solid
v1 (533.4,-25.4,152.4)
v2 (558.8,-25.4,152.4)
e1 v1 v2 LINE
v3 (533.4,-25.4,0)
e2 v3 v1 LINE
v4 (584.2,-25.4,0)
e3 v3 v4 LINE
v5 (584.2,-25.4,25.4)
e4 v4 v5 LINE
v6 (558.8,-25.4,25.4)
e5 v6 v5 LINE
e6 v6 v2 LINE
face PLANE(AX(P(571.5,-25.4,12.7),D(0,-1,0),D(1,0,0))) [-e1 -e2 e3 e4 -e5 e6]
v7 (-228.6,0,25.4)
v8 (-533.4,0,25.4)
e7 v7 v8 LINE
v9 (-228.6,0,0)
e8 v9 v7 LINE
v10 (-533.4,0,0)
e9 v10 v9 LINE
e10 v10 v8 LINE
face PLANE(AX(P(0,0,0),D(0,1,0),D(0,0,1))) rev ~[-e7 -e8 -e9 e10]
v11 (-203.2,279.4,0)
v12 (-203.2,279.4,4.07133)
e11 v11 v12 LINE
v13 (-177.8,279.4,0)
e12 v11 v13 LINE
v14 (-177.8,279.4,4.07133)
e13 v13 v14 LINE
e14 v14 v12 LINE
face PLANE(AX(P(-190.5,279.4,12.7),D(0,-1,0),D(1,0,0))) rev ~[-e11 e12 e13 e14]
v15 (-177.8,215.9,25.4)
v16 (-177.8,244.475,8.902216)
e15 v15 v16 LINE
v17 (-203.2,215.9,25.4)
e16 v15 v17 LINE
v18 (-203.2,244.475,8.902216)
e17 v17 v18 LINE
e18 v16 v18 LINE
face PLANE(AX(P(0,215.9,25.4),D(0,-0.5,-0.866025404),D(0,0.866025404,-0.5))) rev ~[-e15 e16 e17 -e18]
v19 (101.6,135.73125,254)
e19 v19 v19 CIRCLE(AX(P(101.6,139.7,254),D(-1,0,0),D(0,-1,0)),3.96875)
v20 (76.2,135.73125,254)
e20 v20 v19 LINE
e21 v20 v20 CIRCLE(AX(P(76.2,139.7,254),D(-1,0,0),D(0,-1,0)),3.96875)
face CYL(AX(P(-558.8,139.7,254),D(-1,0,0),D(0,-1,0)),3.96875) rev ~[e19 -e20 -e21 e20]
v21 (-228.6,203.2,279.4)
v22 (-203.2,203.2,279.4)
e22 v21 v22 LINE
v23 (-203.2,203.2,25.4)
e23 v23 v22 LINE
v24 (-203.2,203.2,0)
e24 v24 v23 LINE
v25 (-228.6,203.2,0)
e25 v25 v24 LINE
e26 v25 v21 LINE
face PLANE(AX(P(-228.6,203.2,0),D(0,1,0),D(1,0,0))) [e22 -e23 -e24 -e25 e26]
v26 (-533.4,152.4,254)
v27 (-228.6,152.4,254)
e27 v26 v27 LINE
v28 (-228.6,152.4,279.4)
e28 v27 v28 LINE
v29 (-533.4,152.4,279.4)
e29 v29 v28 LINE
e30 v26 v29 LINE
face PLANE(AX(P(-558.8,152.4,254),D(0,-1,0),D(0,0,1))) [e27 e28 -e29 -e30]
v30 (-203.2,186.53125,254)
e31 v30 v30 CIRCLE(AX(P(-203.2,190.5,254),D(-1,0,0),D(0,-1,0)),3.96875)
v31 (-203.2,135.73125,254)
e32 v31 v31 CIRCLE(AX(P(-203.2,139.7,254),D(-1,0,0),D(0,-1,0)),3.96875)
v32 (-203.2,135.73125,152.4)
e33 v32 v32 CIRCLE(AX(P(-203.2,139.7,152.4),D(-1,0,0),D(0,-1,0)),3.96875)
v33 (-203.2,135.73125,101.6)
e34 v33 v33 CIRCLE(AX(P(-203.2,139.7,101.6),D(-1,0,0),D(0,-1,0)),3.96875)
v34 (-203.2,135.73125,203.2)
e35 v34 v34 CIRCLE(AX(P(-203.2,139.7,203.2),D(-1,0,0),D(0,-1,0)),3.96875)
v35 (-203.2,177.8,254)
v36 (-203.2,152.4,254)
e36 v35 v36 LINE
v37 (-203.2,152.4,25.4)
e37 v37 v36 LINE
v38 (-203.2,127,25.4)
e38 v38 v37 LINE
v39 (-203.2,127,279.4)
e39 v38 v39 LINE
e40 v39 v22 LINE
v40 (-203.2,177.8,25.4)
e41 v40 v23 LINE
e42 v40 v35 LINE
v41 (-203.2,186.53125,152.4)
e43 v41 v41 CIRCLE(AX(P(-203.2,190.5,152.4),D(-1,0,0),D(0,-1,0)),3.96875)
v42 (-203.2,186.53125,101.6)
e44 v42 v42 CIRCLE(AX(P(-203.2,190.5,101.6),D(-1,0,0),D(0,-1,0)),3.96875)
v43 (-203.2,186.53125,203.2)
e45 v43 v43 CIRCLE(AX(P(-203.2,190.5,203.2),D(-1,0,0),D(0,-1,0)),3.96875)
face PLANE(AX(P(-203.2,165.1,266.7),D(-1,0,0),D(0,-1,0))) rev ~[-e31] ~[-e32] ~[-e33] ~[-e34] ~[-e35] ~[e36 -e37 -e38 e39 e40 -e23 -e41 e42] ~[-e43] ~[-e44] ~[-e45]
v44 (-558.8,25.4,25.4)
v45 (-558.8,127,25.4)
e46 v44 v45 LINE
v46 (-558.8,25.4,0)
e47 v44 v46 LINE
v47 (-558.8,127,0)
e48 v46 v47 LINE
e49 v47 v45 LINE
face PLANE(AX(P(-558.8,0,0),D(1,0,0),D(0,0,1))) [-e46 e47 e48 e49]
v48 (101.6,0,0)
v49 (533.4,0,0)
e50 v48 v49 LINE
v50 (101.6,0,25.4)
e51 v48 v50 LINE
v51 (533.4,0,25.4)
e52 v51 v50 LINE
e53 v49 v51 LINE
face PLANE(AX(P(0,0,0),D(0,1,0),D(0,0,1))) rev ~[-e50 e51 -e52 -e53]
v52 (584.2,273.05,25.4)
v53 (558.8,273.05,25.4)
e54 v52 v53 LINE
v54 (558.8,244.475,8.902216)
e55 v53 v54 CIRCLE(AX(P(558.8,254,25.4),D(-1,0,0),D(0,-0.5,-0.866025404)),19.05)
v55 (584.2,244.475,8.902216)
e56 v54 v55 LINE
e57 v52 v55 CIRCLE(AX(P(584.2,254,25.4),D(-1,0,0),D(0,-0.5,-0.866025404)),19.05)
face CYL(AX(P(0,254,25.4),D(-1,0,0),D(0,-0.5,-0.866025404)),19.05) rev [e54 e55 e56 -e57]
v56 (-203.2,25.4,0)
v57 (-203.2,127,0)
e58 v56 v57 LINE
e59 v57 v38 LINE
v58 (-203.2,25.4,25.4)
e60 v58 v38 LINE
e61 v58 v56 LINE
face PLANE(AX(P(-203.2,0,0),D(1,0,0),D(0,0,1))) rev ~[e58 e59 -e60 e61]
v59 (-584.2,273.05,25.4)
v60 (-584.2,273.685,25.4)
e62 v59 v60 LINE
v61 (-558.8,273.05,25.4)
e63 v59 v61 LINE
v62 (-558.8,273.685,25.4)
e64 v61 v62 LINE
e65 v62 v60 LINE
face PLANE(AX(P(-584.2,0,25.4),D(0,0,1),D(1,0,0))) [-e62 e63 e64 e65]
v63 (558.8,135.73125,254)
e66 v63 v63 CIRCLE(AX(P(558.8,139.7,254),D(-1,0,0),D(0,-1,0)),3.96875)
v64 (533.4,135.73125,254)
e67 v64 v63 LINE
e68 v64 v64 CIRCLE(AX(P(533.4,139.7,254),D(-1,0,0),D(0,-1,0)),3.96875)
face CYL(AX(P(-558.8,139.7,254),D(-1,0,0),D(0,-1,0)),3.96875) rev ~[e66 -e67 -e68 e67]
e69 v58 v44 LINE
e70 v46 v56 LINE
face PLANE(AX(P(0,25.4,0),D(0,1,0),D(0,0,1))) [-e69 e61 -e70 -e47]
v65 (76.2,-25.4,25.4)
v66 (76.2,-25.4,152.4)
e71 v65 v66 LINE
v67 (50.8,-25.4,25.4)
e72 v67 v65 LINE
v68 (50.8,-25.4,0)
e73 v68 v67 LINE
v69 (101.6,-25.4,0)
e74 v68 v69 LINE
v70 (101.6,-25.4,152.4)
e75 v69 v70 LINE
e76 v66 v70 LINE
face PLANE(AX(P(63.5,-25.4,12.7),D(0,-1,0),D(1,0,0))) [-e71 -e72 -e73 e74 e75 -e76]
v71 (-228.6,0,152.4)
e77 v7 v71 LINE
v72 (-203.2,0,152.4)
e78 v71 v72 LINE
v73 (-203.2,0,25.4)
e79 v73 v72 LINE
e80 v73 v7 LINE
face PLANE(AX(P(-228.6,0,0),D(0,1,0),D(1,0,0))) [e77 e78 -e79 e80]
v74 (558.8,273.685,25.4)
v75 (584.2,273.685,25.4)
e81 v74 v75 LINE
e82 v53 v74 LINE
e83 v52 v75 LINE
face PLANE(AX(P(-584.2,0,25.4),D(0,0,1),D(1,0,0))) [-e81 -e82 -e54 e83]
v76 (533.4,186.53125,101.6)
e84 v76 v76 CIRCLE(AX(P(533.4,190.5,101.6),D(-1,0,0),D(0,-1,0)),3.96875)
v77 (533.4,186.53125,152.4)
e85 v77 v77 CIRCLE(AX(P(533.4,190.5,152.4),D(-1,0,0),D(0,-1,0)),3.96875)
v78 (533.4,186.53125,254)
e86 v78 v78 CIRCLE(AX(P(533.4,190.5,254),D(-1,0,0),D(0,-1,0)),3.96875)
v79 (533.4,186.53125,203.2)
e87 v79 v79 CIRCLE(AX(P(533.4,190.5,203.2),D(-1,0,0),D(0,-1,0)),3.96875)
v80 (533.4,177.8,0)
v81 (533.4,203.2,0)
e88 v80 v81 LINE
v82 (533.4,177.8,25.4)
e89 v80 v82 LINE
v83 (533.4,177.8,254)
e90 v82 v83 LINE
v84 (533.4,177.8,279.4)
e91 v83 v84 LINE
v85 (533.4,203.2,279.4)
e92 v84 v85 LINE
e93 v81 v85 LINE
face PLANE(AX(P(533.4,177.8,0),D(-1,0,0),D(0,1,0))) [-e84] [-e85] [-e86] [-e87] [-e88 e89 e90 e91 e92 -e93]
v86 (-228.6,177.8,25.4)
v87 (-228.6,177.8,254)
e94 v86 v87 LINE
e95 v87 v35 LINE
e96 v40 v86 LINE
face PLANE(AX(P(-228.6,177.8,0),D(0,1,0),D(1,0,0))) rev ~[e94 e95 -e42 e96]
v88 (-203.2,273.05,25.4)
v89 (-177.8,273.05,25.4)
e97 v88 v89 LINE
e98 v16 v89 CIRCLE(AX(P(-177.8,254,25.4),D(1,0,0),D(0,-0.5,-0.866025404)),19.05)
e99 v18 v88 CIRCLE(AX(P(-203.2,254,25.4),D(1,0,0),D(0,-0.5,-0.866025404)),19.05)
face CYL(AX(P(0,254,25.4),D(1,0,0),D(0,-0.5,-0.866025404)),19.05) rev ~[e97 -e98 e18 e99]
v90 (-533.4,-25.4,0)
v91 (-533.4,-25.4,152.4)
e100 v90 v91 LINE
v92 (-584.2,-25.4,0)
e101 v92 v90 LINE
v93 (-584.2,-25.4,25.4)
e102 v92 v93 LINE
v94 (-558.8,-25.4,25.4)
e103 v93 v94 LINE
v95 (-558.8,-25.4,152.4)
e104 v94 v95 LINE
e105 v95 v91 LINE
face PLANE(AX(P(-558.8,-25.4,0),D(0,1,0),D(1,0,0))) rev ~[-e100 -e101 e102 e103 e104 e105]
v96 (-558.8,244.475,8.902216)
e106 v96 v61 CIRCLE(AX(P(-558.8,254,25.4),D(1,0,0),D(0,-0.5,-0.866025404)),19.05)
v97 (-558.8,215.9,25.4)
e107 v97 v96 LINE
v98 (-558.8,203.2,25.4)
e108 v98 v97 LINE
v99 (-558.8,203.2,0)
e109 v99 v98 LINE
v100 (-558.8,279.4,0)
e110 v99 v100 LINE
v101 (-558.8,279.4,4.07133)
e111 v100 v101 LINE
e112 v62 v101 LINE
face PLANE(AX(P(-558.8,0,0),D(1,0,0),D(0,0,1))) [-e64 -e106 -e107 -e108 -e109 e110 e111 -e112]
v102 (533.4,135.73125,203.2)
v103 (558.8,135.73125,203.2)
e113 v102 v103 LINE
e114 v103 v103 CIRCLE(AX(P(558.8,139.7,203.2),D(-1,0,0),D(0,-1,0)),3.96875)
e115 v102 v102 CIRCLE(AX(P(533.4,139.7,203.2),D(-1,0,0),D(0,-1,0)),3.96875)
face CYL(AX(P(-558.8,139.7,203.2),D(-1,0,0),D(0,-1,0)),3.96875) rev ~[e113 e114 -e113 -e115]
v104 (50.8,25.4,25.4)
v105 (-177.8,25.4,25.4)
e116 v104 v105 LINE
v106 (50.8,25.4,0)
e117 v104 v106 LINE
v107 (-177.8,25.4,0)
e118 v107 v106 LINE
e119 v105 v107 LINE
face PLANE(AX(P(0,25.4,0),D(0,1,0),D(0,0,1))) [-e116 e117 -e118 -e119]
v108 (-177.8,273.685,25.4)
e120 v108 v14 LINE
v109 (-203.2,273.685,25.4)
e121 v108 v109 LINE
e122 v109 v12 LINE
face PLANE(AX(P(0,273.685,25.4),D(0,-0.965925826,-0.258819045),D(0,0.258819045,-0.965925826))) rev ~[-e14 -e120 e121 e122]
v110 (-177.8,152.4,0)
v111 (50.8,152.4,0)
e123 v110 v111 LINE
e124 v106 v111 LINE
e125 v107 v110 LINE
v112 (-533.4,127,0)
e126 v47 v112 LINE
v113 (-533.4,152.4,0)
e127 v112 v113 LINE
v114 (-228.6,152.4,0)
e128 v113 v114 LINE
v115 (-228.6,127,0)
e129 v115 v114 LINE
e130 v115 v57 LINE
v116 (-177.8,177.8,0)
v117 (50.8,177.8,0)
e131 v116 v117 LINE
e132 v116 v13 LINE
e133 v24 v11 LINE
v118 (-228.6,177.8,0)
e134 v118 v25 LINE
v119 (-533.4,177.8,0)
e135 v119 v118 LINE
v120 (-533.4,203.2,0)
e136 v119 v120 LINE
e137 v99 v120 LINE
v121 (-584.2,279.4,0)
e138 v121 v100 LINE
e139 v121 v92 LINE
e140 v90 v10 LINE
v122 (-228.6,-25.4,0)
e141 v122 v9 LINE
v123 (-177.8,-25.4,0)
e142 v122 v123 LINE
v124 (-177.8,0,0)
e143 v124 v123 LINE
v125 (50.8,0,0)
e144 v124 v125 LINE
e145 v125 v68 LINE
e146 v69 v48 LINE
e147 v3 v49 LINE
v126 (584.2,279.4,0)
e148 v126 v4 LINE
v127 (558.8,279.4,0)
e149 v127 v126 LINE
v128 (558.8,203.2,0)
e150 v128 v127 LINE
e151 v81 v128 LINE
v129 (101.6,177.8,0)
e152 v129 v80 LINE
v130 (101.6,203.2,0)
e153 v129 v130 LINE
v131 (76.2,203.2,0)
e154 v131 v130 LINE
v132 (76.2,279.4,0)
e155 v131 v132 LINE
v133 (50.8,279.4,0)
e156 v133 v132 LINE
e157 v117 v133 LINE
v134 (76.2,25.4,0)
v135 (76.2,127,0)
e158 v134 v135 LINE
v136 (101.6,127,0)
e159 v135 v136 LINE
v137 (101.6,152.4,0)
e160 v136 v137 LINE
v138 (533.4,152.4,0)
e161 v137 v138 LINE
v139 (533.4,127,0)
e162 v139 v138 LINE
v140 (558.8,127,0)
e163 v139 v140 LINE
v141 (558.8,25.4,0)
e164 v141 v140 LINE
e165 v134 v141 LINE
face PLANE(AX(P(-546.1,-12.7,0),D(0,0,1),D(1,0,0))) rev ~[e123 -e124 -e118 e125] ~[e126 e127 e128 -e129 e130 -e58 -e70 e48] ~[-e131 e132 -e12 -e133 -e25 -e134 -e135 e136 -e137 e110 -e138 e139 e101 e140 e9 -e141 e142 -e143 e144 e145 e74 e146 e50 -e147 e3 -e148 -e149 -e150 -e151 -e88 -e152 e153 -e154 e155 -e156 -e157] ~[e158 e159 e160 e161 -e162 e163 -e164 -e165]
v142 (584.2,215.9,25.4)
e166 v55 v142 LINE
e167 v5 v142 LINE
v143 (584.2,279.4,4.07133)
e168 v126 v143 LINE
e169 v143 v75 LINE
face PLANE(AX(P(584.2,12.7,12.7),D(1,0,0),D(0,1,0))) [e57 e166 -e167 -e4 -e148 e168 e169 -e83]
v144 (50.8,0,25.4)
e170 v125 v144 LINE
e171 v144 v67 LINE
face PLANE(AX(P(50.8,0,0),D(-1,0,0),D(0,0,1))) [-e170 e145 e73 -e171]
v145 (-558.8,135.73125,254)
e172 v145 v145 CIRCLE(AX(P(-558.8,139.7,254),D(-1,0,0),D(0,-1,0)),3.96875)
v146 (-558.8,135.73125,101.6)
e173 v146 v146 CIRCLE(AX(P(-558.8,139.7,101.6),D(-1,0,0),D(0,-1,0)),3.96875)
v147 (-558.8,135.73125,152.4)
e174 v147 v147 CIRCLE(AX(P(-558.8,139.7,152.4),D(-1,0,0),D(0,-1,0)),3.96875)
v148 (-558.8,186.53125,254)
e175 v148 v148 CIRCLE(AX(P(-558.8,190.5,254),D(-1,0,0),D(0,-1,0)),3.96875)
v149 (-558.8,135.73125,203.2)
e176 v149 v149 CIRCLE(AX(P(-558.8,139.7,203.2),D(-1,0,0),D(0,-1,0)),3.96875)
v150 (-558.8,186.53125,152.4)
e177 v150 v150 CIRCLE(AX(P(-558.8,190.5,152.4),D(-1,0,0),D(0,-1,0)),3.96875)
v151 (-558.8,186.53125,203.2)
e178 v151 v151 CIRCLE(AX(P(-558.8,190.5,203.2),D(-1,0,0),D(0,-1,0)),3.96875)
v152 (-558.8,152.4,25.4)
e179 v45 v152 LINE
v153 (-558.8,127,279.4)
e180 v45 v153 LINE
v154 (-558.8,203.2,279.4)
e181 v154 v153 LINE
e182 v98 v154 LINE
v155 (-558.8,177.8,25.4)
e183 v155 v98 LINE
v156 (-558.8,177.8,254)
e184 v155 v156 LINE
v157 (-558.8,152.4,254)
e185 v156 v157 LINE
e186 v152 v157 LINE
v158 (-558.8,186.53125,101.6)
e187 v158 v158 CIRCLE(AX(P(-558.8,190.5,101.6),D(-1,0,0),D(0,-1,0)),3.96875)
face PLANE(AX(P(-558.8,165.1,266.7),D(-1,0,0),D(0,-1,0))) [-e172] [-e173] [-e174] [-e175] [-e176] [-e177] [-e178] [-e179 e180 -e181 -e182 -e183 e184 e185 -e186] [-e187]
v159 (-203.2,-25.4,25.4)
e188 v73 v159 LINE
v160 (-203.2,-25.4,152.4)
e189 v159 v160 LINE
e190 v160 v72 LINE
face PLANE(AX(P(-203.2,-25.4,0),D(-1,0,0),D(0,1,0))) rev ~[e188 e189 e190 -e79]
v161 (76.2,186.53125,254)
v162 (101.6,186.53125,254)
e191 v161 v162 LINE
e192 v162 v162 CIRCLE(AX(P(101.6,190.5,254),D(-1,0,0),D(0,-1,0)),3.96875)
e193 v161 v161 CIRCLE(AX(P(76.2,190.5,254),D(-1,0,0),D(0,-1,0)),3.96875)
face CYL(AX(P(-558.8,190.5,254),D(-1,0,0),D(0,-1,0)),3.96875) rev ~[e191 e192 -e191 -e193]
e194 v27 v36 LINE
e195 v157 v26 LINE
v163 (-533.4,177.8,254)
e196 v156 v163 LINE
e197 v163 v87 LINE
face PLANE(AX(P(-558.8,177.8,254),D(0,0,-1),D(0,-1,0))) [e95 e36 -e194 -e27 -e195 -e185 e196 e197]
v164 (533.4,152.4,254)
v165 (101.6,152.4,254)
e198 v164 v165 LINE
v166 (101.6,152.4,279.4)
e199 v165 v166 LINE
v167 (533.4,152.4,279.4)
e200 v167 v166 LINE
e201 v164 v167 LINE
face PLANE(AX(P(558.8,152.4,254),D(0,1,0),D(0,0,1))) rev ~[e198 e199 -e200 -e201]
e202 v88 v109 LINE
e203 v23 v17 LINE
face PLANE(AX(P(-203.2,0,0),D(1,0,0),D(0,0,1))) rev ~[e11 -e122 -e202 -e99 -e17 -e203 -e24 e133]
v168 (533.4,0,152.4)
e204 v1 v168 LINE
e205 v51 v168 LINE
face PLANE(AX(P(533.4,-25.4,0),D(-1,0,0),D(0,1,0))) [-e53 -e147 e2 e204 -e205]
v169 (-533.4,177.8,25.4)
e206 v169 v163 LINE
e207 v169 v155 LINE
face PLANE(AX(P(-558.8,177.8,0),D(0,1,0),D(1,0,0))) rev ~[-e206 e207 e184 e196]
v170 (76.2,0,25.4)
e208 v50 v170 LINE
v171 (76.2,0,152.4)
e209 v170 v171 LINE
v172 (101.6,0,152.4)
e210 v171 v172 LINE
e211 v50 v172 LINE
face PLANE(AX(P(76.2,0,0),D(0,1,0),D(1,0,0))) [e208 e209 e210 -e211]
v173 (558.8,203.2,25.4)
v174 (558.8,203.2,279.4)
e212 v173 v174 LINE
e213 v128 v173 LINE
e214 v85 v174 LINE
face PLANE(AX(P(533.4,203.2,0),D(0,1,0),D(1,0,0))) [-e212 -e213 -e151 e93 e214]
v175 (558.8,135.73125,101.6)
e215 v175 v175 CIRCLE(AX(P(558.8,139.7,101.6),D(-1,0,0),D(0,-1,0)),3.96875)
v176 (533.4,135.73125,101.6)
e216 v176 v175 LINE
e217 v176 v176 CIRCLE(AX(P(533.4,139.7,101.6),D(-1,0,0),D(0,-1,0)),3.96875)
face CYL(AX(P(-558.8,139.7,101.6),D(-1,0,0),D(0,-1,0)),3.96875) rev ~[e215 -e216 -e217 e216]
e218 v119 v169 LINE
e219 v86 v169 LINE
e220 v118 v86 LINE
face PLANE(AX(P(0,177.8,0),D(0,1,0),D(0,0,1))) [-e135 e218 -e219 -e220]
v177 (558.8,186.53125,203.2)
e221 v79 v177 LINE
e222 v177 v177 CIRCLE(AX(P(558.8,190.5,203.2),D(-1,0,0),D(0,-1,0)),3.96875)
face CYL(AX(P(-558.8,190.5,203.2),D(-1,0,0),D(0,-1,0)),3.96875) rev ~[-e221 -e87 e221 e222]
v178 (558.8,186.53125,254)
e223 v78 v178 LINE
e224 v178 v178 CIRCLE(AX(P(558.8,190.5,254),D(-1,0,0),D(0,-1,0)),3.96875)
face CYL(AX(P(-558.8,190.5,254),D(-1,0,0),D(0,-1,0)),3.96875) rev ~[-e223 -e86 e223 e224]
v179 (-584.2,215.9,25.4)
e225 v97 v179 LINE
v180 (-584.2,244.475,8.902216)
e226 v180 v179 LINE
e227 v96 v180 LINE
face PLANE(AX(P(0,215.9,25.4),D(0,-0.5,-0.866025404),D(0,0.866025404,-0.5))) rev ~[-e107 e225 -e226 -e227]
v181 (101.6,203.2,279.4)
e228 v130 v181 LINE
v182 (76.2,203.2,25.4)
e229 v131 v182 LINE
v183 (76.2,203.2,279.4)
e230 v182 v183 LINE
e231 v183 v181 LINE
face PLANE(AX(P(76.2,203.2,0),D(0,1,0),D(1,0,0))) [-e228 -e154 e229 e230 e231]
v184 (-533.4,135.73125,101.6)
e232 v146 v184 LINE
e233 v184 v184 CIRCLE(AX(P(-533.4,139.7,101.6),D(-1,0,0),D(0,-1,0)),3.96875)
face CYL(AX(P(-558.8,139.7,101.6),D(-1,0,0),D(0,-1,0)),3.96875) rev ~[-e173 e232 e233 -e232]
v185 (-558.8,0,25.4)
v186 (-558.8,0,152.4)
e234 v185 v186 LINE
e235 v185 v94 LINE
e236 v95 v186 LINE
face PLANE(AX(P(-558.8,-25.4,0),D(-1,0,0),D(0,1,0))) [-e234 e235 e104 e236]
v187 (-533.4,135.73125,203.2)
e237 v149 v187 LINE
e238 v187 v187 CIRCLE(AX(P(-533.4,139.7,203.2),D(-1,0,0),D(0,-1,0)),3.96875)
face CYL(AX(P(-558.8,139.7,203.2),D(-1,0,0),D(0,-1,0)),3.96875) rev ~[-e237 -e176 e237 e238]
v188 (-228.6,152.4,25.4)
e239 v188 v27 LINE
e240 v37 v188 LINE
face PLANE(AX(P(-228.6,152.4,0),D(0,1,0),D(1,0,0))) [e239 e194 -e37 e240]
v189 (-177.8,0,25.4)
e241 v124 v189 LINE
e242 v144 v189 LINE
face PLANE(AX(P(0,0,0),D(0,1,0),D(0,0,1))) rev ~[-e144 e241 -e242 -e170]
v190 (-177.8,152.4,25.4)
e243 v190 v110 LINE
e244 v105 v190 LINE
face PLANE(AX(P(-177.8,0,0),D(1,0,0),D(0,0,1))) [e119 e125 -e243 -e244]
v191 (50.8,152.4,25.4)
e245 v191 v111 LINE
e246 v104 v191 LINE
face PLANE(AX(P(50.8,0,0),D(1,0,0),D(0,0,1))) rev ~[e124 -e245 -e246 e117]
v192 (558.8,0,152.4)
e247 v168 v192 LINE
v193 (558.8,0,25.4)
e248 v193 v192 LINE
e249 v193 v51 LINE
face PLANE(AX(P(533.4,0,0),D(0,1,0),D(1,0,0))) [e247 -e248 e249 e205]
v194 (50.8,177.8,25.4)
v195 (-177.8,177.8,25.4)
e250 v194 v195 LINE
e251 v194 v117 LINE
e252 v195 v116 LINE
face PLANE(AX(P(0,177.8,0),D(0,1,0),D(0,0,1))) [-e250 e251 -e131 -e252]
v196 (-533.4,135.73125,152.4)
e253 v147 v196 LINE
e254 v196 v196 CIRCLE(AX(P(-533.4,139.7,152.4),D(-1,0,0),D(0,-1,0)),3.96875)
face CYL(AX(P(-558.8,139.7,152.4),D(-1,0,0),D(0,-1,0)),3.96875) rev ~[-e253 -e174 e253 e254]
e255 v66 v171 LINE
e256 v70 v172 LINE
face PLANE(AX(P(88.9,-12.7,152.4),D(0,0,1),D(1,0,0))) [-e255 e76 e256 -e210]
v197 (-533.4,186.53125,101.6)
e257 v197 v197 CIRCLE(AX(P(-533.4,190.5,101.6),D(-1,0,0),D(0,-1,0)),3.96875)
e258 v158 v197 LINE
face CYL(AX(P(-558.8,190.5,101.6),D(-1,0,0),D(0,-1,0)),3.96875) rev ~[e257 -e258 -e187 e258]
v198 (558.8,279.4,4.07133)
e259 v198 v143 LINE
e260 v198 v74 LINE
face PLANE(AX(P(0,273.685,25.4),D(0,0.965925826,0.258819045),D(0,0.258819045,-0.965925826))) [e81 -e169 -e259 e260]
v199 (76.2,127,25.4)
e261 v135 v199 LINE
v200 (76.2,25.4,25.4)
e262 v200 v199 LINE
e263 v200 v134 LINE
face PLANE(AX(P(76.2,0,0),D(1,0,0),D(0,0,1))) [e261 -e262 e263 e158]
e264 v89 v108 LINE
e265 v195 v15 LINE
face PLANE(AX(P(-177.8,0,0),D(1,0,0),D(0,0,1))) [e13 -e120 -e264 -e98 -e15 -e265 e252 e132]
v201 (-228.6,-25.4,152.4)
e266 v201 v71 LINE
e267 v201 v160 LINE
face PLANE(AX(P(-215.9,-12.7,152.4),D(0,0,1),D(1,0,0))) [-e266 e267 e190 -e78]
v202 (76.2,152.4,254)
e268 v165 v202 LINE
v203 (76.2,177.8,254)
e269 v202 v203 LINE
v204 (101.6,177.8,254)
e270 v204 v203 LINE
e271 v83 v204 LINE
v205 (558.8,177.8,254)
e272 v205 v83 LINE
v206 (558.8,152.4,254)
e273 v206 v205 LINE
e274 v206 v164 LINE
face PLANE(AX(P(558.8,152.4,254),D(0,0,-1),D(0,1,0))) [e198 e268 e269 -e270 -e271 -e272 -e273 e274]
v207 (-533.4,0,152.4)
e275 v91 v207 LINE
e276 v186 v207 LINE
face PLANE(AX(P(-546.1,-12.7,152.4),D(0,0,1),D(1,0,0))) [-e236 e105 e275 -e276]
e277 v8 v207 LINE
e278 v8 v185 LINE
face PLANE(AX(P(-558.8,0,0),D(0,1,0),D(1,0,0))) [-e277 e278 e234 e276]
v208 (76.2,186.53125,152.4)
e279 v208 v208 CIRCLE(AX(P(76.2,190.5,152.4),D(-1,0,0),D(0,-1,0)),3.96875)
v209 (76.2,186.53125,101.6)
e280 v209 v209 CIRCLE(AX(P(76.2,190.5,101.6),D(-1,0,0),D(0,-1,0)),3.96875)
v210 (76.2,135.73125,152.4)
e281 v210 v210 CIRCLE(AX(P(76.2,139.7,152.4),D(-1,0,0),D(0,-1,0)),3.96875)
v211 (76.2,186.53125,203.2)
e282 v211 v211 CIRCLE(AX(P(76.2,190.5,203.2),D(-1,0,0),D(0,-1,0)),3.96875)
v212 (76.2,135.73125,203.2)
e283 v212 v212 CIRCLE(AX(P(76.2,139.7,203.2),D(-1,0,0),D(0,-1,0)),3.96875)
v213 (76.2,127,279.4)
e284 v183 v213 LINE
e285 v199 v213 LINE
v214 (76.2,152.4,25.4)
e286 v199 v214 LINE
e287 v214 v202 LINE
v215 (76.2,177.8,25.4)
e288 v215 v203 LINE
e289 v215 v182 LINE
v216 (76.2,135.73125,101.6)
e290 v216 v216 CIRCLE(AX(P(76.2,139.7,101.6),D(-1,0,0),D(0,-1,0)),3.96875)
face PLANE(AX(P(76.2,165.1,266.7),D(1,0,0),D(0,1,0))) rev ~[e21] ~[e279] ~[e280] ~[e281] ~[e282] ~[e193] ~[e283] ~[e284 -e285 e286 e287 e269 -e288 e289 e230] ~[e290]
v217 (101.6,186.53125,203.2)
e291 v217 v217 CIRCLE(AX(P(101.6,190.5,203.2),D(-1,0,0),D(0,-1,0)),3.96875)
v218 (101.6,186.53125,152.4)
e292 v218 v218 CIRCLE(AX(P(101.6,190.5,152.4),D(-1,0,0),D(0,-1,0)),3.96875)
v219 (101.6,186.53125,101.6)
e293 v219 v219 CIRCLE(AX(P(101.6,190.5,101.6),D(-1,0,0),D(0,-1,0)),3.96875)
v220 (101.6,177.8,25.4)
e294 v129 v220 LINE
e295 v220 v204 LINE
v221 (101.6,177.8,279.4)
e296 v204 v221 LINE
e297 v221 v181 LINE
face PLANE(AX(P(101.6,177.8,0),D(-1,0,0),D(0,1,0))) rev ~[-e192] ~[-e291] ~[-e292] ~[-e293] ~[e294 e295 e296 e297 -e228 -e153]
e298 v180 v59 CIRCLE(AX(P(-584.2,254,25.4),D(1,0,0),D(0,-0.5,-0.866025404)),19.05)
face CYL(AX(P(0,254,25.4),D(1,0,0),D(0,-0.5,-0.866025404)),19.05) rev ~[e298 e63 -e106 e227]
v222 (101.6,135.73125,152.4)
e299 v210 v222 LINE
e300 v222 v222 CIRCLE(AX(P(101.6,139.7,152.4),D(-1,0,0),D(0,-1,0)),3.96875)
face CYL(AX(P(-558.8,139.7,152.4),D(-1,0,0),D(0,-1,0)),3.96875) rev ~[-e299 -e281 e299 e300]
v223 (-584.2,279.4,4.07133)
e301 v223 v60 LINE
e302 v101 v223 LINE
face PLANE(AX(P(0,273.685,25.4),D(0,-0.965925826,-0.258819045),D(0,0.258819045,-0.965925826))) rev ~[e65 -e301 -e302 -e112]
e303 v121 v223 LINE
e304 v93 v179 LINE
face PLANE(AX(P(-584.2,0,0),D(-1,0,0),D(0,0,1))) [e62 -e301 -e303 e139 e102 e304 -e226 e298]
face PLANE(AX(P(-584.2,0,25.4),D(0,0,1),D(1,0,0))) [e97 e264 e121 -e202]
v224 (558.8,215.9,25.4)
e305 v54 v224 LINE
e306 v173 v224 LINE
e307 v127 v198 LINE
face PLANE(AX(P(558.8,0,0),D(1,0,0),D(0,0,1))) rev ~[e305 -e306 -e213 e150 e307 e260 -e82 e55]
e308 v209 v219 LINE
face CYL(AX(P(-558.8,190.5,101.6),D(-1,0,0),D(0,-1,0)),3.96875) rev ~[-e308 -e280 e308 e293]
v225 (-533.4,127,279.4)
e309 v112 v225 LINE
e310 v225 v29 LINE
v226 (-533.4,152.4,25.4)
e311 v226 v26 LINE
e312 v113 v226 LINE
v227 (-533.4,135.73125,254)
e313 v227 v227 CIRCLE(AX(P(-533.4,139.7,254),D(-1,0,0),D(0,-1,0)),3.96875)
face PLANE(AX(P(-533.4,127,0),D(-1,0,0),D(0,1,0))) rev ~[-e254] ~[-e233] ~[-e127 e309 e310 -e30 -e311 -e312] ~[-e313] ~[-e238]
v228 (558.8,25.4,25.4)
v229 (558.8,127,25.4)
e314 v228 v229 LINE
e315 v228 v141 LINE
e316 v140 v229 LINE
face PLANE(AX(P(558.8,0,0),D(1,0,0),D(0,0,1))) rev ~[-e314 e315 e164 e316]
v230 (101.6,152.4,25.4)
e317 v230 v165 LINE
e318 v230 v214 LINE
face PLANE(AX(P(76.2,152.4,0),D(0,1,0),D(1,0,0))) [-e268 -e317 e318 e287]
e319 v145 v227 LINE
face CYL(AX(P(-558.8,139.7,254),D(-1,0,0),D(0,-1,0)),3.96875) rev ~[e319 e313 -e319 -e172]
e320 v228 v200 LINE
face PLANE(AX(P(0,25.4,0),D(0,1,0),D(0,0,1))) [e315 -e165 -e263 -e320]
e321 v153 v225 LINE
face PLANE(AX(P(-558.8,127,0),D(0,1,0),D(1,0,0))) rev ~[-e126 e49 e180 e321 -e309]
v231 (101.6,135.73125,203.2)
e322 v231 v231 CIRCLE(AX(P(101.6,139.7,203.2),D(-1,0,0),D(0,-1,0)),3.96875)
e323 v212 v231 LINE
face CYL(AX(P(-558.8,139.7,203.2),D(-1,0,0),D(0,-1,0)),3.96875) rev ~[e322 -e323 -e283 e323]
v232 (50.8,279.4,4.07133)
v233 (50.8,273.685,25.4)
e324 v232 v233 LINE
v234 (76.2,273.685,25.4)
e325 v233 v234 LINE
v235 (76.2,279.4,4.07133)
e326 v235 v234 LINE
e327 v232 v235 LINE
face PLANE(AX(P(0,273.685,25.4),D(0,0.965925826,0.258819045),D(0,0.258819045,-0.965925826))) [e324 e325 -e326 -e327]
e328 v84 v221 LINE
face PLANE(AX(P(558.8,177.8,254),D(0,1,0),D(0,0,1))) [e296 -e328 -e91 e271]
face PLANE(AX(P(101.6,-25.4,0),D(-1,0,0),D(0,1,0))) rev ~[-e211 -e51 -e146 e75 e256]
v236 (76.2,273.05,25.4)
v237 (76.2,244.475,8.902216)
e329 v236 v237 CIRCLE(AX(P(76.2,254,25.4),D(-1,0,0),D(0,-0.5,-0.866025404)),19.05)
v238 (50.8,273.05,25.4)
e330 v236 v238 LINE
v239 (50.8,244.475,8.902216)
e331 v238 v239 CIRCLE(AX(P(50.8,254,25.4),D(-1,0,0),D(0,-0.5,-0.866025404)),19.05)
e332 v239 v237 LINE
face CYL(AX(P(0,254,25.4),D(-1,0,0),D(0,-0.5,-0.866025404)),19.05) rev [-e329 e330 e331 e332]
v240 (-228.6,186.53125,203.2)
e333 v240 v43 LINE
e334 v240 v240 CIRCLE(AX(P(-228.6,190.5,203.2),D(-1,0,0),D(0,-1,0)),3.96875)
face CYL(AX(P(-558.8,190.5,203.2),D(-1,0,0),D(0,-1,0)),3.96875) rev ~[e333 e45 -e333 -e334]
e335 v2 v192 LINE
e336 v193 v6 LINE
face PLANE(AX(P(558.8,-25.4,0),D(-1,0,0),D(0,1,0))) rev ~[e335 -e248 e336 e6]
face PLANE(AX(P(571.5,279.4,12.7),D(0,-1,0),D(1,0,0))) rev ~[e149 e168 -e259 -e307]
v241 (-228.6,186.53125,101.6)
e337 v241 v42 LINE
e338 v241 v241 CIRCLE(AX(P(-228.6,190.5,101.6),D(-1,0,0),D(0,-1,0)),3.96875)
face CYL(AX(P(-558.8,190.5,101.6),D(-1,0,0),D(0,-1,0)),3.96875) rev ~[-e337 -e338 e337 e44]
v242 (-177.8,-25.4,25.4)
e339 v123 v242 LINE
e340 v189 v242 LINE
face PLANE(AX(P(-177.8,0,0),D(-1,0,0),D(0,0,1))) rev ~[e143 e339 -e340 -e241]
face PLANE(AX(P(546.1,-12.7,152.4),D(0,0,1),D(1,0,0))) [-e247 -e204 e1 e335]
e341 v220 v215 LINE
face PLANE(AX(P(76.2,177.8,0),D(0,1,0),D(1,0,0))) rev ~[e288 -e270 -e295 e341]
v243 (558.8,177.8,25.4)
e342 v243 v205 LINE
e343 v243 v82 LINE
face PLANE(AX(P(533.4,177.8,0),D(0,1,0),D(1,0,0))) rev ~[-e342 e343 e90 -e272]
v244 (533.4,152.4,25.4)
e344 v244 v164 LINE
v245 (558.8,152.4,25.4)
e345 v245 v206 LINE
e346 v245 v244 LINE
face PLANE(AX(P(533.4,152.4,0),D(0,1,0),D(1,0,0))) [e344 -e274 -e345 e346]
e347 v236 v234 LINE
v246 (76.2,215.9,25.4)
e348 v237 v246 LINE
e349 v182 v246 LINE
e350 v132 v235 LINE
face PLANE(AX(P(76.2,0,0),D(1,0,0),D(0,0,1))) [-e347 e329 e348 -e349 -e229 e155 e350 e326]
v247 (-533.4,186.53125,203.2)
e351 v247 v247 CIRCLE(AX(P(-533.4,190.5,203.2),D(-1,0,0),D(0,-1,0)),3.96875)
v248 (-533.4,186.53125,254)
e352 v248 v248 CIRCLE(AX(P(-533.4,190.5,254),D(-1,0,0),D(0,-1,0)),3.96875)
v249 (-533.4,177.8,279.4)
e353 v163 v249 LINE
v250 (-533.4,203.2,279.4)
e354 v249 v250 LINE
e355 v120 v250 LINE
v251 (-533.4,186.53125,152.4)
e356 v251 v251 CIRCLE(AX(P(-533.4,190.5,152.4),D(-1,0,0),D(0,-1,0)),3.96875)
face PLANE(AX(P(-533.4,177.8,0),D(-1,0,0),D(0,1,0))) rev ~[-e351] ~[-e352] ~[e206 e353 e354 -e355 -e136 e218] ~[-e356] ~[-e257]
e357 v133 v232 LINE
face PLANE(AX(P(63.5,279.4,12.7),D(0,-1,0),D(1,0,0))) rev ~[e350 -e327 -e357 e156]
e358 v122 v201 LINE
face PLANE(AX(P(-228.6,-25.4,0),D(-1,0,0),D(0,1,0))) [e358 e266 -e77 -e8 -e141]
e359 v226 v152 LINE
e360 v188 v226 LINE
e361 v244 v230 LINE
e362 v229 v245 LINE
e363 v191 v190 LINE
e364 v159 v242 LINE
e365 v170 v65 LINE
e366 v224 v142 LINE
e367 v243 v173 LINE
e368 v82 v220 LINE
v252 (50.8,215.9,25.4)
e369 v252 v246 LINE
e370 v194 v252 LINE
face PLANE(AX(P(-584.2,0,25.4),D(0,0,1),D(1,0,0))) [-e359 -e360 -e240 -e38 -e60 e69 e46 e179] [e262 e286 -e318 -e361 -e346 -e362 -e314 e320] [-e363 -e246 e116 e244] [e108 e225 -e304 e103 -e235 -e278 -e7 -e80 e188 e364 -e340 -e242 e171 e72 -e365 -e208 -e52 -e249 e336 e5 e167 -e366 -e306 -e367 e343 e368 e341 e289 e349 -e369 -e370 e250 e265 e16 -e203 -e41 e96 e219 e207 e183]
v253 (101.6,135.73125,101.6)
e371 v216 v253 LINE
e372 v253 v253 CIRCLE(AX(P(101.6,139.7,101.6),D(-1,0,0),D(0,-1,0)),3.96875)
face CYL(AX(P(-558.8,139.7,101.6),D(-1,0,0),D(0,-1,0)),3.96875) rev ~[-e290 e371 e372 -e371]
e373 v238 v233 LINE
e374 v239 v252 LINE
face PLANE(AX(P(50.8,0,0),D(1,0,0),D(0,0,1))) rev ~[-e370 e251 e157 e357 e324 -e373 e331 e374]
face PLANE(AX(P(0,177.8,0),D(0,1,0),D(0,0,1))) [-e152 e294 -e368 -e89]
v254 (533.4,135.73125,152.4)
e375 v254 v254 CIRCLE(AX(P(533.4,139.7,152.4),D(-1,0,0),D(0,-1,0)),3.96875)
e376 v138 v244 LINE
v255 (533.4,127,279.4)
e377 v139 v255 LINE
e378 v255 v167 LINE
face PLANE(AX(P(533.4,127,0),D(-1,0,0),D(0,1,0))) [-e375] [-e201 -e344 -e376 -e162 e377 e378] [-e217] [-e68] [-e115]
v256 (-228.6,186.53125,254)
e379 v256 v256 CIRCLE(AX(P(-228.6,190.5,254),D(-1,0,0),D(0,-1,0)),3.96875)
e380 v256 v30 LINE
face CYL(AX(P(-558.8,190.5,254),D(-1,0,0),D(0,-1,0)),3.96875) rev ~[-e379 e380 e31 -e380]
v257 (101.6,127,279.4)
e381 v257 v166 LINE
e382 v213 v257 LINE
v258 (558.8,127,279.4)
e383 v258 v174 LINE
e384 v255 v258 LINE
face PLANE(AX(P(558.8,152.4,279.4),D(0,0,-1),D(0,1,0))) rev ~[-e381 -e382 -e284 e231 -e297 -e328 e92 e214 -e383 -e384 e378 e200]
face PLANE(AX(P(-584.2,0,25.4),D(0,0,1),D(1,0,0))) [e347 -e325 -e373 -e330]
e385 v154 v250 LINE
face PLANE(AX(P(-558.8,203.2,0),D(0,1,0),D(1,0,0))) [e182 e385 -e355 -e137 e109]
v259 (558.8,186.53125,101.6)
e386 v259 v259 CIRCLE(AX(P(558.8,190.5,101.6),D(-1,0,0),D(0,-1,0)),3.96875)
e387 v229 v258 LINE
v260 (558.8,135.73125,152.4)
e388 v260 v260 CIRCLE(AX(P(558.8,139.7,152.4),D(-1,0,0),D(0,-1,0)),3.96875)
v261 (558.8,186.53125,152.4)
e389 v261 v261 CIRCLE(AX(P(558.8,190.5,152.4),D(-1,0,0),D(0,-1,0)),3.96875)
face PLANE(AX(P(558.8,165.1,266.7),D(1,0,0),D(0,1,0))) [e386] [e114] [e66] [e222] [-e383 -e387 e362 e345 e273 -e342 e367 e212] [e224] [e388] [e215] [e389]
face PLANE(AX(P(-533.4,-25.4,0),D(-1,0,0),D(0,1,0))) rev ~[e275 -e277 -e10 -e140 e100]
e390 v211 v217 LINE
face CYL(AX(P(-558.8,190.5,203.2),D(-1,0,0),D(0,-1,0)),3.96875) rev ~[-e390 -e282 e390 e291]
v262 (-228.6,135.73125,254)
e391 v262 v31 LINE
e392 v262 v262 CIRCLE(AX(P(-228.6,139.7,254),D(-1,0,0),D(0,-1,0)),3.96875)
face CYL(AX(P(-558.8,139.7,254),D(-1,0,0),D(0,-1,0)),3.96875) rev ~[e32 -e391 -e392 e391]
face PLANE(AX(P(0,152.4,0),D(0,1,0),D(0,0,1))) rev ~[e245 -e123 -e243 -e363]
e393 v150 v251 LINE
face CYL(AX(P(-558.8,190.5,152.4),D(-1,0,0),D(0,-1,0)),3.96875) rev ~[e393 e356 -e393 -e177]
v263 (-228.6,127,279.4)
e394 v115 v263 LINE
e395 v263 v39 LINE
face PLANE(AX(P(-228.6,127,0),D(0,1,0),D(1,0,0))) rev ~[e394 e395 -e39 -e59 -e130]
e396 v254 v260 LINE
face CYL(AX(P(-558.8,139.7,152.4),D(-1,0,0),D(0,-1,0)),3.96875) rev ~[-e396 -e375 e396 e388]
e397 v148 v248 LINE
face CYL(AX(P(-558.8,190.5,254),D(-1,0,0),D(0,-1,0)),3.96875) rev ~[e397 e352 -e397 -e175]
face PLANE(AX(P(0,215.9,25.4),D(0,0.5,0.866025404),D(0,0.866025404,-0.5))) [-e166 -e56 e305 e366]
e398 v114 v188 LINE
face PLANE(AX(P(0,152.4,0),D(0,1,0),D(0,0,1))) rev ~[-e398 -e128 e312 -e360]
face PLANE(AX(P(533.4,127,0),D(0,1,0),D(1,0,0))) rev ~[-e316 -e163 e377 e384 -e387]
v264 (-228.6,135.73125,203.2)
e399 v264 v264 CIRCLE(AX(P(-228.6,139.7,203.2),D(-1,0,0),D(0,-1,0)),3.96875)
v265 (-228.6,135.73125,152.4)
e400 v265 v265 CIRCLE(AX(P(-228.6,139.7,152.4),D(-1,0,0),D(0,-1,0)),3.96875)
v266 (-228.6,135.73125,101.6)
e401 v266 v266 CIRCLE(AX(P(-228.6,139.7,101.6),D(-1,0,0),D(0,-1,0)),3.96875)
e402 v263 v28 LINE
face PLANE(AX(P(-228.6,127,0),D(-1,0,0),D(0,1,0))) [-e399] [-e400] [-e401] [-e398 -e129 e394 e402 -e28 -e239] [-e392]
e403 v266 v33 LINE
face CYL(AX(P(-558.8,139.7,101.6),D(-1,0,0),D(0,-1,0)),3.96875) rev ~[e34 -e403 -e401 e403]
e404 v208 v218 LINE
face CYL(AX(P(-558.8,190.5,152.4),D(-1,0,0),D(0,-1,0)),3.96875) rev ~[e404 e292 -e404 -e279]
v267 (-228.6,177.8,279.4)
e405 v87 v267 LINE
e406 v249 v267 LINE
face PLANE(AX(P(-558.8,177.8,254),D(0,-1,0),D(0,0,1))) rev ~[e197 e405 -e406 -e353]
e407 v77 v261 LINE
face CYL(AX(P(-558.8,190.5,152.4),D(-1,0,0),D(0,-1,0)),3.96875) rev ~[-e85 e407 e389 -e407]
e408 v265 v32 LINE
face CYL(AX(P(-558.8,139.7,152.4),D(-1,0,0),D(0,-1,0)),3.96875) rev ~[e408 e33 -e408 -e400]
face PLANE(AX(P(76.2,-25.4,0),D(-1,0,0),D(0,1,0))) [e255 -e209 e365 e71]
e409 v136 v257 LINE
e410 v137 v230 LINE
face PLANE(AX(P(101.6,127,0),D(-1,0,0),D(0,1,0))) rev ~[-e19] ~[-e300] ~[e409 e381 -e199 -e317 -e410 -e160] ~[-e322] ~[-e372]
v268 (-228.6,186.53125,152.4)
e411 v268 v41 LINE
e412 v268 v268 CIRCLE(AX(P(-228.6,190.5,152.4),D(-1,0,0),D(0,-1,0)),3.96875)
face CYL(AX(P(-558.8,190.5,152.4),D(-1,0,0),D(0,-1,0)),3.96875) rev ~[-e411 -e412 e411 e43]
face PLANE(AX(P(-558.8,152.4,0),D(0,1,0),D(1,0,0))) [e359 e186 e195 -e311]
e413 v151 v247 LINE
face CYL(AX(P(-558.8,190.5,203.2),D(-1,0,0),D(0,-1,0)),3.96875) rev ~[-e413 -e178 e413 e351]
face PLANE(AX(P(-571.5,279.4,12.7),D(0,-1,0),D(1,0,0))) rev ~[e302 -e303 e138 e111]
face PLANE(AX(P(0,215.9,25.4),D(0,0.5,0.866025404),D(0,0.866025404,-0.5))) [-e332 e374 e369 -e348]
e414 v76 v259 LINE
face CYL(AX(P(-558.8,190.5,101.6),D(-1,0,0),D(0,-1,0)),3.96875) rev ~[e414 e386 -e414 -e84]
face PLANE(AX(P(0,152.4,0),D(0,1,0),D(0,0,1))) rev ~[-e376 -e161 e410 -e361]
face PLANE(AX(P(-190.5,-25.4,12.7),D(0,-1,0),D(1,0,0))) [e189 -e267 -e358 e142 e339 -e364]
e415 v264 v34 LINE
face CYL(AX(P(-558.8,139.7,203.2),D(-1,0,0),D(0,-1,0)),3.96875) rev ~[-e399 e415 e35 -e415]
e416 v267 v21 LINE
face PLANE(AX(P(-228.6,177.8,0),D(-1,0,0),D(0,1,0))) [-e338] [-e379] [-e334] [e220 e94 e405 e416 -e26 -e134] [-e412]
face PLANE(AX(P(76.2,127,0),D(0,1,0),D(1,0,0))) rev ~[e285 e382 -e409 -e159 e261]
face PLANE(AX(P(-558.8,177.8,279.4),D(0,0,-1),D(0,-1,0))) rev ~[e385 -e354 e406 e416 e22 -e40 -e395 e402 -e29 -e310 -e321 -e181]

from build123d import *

# Parameters (mm, degrees)
F0_W          = 25.4
F0_H          = 25.4
F1_DEPTH      = 584.2
F2_W          = 25.4
F2_H          = 25.4
F3_DEPTH      = 279.4
F3_DEPTH_BACK = 25.4
F5_DEPTH      = 584.201
F5_DEPTH_BACK = 584.201
F6_W          = 25.4
F6_H          = 25.4
F7_DEPTH      = 279.4
F8_W          = 25.4
F8_H          = 25.4
F9_DEPTH      = 355.6
F10_W         = 25.4
F10_H         = 25.4
F11_DEPTH     = 482.6
F12_R         = 3.96875
F13_DEPTH     = 1143.001
F14_W         = 25.4
F14_H         = 25.4
F15_DEPTH     = 152.4


with BuildPart() as f1:
    # F0 (on Right) → F1 (new body, symmetric)
    with BuildSketch(Plane.YZ):
        with Locations((12.7, 12.7)):
            Rectangle(F0_W, F0_H)
    extrude(amount=F1_DEPTH, both=True)



with BuildPart() as f1b:
    # F0 (on Right) → F1, piece 2 (new body, symmetric)
    with BuildSketch(Plane.YZ):
        with Locations((165.1, 12.7)):
            Rectangle(F0_W, F0_H)
    extrude(amount=F1_DEPTH, both=True)


with BuildPart() as f1_1:
    add(f1.part)

    add(f1b.part)  # F3 merges F1b
    # F2 (on Front) → F3 (join, two sides)
    with BuildSketch(Plane.XZ) as f3_sk:
        with Locations((-571.5, 12.7)):
            Rectangle(F2_W, F2_H)
        with Locations((-190.5, 12.7)):
            Rectangle(F2_W, F2_H)
        with Locations((63.5, 12.7)):
            Rectangle(F2_W, F2_H)
        with Locations((571.5, 12.7)):
            Rectangle(F2_W, F2_H)
    extrude(amount=-F3_DEPTH)
    extrude(f3_sk.sketch, amount=F3_DEPTH_BACK)

    # F4 (on Right) → F5 (cut, two sides)
    with BuildSketch(Plane.YZ) as f5_sk:
        with BuildLine():
            Line((215.9, 25.4), (244.475, 8.9022160579))
            ThreePointArc((244.475, 8.9022160579), (272.4008869908, 20.4694971908), (254, 44.45))
            Line((254, 44.45), (215.9, 44.45))
            Line((215.9, 44.45), (215.9, 25.4))
        make_face()
        Polygon((279.4, 4.0713296347), (279.4, 25.4), (273.685, 25.4), align=None)
    extrude(amount=F5_DEPTH, mode=Mode.SUBTRACT)
    extrude(f5_sk.sketch, amount=-F5_DEPTH_BACK, mode=Mode.SUBTRACT)

    # F6 (on Top) → F7 (join)
    with BuildSketch(Plane.XY):
        with Locations((-546.1, 190.5)):
            Rectangle(F6_W, F6_H)
        with Locations((-546.1, 139.7)):
            Rectangle(F6_W, F6_H)
        with Locations((-215.9, 139.7)):
            Rectangle(F6_W, F6_H)
        with Locations((-215.9, 190.5)):
            Rectangle(F6_W, F6_H)
        with Locations((88.9, 190.5)):
            Rectangle(F6_W, F6_H)
        with Locations((546.1, 190.5)):
            Rectangle(F6_W, F6_H)
        with Locations((546.1, 139.7)):
            Rectangle(F6_W, F6_H)
        with Locations((88.9, 139.7)):
            Rectangle(F6_W, F6_H)
    extrude(amount=F7_DEPTH)

    # F8 (on face) → F9 (join, through all)
    with BuildSketch(Plane(origin=(-558.8, 0, 0), x_dir=(0, -1, 0), z_dir=(-1, 0, 0))):
        with Locations((-165.1, 266.7)):
            Rectangle(F8_W, F8_H)
    extrude(amount=-F9_DEPTH)

    # F10 (on face) → F11 (join, through all)
    with BuildSketch(Plane.YZ.offset(558.8)):
        with Locations((165.1, 266.7)):
            Rectangle(F10_W, F10_H)
    extrude(amount=-F11_DEPTH)

    # F12 (on face) → F13 (cut, through all)
    with BuildSketch(Plane(origin=(-558.8, 0, 0), x_dir=(0, -1, 0), z_dir=(-1, 0, 0))):
        with Locations((-139.7, 101.6)):
            Circle(F12_R)
        with Locations((-139.7, 152.4)):
            Circle(F12_R)
        with Locations((-139.7, 203.2)):
            Circle(F12_R)
        with Locations((-139.7, 254)):
            Circle(F12_R)
        with Locations((-190.5, 101.6)):
            Circle(F12_R)
        with Locations((-190.5, 152.4)):
            Circle(F12_R)
        with Locations((-190.5, 203.2)):
            Circle(F12_R)
        with Locations((-190.5, 254)):
            Circle(F12_R)
    extrude(amount=-F13_DEPTH, mode=Mode.SUBTRACT)

    # F14 (on Top) → F15 (join)
    with BuildSketch(Plane.XY):
        with Locations((-546.1, -12.7)):
            Rectangle(F14_W, F14_H)
        with Locations((-215.9, -12.7)):
            Rectangle(F14_W, F14_H)
        with Locations((88.9, -12.7)):
            Rectangle(F14_W, F14_H)
        with Locations((546.1, -12.7)):
            Rectangle(F14_W, F14_H)
    extrude(amount=F15_DEPTH)


solid = f1_1.part
